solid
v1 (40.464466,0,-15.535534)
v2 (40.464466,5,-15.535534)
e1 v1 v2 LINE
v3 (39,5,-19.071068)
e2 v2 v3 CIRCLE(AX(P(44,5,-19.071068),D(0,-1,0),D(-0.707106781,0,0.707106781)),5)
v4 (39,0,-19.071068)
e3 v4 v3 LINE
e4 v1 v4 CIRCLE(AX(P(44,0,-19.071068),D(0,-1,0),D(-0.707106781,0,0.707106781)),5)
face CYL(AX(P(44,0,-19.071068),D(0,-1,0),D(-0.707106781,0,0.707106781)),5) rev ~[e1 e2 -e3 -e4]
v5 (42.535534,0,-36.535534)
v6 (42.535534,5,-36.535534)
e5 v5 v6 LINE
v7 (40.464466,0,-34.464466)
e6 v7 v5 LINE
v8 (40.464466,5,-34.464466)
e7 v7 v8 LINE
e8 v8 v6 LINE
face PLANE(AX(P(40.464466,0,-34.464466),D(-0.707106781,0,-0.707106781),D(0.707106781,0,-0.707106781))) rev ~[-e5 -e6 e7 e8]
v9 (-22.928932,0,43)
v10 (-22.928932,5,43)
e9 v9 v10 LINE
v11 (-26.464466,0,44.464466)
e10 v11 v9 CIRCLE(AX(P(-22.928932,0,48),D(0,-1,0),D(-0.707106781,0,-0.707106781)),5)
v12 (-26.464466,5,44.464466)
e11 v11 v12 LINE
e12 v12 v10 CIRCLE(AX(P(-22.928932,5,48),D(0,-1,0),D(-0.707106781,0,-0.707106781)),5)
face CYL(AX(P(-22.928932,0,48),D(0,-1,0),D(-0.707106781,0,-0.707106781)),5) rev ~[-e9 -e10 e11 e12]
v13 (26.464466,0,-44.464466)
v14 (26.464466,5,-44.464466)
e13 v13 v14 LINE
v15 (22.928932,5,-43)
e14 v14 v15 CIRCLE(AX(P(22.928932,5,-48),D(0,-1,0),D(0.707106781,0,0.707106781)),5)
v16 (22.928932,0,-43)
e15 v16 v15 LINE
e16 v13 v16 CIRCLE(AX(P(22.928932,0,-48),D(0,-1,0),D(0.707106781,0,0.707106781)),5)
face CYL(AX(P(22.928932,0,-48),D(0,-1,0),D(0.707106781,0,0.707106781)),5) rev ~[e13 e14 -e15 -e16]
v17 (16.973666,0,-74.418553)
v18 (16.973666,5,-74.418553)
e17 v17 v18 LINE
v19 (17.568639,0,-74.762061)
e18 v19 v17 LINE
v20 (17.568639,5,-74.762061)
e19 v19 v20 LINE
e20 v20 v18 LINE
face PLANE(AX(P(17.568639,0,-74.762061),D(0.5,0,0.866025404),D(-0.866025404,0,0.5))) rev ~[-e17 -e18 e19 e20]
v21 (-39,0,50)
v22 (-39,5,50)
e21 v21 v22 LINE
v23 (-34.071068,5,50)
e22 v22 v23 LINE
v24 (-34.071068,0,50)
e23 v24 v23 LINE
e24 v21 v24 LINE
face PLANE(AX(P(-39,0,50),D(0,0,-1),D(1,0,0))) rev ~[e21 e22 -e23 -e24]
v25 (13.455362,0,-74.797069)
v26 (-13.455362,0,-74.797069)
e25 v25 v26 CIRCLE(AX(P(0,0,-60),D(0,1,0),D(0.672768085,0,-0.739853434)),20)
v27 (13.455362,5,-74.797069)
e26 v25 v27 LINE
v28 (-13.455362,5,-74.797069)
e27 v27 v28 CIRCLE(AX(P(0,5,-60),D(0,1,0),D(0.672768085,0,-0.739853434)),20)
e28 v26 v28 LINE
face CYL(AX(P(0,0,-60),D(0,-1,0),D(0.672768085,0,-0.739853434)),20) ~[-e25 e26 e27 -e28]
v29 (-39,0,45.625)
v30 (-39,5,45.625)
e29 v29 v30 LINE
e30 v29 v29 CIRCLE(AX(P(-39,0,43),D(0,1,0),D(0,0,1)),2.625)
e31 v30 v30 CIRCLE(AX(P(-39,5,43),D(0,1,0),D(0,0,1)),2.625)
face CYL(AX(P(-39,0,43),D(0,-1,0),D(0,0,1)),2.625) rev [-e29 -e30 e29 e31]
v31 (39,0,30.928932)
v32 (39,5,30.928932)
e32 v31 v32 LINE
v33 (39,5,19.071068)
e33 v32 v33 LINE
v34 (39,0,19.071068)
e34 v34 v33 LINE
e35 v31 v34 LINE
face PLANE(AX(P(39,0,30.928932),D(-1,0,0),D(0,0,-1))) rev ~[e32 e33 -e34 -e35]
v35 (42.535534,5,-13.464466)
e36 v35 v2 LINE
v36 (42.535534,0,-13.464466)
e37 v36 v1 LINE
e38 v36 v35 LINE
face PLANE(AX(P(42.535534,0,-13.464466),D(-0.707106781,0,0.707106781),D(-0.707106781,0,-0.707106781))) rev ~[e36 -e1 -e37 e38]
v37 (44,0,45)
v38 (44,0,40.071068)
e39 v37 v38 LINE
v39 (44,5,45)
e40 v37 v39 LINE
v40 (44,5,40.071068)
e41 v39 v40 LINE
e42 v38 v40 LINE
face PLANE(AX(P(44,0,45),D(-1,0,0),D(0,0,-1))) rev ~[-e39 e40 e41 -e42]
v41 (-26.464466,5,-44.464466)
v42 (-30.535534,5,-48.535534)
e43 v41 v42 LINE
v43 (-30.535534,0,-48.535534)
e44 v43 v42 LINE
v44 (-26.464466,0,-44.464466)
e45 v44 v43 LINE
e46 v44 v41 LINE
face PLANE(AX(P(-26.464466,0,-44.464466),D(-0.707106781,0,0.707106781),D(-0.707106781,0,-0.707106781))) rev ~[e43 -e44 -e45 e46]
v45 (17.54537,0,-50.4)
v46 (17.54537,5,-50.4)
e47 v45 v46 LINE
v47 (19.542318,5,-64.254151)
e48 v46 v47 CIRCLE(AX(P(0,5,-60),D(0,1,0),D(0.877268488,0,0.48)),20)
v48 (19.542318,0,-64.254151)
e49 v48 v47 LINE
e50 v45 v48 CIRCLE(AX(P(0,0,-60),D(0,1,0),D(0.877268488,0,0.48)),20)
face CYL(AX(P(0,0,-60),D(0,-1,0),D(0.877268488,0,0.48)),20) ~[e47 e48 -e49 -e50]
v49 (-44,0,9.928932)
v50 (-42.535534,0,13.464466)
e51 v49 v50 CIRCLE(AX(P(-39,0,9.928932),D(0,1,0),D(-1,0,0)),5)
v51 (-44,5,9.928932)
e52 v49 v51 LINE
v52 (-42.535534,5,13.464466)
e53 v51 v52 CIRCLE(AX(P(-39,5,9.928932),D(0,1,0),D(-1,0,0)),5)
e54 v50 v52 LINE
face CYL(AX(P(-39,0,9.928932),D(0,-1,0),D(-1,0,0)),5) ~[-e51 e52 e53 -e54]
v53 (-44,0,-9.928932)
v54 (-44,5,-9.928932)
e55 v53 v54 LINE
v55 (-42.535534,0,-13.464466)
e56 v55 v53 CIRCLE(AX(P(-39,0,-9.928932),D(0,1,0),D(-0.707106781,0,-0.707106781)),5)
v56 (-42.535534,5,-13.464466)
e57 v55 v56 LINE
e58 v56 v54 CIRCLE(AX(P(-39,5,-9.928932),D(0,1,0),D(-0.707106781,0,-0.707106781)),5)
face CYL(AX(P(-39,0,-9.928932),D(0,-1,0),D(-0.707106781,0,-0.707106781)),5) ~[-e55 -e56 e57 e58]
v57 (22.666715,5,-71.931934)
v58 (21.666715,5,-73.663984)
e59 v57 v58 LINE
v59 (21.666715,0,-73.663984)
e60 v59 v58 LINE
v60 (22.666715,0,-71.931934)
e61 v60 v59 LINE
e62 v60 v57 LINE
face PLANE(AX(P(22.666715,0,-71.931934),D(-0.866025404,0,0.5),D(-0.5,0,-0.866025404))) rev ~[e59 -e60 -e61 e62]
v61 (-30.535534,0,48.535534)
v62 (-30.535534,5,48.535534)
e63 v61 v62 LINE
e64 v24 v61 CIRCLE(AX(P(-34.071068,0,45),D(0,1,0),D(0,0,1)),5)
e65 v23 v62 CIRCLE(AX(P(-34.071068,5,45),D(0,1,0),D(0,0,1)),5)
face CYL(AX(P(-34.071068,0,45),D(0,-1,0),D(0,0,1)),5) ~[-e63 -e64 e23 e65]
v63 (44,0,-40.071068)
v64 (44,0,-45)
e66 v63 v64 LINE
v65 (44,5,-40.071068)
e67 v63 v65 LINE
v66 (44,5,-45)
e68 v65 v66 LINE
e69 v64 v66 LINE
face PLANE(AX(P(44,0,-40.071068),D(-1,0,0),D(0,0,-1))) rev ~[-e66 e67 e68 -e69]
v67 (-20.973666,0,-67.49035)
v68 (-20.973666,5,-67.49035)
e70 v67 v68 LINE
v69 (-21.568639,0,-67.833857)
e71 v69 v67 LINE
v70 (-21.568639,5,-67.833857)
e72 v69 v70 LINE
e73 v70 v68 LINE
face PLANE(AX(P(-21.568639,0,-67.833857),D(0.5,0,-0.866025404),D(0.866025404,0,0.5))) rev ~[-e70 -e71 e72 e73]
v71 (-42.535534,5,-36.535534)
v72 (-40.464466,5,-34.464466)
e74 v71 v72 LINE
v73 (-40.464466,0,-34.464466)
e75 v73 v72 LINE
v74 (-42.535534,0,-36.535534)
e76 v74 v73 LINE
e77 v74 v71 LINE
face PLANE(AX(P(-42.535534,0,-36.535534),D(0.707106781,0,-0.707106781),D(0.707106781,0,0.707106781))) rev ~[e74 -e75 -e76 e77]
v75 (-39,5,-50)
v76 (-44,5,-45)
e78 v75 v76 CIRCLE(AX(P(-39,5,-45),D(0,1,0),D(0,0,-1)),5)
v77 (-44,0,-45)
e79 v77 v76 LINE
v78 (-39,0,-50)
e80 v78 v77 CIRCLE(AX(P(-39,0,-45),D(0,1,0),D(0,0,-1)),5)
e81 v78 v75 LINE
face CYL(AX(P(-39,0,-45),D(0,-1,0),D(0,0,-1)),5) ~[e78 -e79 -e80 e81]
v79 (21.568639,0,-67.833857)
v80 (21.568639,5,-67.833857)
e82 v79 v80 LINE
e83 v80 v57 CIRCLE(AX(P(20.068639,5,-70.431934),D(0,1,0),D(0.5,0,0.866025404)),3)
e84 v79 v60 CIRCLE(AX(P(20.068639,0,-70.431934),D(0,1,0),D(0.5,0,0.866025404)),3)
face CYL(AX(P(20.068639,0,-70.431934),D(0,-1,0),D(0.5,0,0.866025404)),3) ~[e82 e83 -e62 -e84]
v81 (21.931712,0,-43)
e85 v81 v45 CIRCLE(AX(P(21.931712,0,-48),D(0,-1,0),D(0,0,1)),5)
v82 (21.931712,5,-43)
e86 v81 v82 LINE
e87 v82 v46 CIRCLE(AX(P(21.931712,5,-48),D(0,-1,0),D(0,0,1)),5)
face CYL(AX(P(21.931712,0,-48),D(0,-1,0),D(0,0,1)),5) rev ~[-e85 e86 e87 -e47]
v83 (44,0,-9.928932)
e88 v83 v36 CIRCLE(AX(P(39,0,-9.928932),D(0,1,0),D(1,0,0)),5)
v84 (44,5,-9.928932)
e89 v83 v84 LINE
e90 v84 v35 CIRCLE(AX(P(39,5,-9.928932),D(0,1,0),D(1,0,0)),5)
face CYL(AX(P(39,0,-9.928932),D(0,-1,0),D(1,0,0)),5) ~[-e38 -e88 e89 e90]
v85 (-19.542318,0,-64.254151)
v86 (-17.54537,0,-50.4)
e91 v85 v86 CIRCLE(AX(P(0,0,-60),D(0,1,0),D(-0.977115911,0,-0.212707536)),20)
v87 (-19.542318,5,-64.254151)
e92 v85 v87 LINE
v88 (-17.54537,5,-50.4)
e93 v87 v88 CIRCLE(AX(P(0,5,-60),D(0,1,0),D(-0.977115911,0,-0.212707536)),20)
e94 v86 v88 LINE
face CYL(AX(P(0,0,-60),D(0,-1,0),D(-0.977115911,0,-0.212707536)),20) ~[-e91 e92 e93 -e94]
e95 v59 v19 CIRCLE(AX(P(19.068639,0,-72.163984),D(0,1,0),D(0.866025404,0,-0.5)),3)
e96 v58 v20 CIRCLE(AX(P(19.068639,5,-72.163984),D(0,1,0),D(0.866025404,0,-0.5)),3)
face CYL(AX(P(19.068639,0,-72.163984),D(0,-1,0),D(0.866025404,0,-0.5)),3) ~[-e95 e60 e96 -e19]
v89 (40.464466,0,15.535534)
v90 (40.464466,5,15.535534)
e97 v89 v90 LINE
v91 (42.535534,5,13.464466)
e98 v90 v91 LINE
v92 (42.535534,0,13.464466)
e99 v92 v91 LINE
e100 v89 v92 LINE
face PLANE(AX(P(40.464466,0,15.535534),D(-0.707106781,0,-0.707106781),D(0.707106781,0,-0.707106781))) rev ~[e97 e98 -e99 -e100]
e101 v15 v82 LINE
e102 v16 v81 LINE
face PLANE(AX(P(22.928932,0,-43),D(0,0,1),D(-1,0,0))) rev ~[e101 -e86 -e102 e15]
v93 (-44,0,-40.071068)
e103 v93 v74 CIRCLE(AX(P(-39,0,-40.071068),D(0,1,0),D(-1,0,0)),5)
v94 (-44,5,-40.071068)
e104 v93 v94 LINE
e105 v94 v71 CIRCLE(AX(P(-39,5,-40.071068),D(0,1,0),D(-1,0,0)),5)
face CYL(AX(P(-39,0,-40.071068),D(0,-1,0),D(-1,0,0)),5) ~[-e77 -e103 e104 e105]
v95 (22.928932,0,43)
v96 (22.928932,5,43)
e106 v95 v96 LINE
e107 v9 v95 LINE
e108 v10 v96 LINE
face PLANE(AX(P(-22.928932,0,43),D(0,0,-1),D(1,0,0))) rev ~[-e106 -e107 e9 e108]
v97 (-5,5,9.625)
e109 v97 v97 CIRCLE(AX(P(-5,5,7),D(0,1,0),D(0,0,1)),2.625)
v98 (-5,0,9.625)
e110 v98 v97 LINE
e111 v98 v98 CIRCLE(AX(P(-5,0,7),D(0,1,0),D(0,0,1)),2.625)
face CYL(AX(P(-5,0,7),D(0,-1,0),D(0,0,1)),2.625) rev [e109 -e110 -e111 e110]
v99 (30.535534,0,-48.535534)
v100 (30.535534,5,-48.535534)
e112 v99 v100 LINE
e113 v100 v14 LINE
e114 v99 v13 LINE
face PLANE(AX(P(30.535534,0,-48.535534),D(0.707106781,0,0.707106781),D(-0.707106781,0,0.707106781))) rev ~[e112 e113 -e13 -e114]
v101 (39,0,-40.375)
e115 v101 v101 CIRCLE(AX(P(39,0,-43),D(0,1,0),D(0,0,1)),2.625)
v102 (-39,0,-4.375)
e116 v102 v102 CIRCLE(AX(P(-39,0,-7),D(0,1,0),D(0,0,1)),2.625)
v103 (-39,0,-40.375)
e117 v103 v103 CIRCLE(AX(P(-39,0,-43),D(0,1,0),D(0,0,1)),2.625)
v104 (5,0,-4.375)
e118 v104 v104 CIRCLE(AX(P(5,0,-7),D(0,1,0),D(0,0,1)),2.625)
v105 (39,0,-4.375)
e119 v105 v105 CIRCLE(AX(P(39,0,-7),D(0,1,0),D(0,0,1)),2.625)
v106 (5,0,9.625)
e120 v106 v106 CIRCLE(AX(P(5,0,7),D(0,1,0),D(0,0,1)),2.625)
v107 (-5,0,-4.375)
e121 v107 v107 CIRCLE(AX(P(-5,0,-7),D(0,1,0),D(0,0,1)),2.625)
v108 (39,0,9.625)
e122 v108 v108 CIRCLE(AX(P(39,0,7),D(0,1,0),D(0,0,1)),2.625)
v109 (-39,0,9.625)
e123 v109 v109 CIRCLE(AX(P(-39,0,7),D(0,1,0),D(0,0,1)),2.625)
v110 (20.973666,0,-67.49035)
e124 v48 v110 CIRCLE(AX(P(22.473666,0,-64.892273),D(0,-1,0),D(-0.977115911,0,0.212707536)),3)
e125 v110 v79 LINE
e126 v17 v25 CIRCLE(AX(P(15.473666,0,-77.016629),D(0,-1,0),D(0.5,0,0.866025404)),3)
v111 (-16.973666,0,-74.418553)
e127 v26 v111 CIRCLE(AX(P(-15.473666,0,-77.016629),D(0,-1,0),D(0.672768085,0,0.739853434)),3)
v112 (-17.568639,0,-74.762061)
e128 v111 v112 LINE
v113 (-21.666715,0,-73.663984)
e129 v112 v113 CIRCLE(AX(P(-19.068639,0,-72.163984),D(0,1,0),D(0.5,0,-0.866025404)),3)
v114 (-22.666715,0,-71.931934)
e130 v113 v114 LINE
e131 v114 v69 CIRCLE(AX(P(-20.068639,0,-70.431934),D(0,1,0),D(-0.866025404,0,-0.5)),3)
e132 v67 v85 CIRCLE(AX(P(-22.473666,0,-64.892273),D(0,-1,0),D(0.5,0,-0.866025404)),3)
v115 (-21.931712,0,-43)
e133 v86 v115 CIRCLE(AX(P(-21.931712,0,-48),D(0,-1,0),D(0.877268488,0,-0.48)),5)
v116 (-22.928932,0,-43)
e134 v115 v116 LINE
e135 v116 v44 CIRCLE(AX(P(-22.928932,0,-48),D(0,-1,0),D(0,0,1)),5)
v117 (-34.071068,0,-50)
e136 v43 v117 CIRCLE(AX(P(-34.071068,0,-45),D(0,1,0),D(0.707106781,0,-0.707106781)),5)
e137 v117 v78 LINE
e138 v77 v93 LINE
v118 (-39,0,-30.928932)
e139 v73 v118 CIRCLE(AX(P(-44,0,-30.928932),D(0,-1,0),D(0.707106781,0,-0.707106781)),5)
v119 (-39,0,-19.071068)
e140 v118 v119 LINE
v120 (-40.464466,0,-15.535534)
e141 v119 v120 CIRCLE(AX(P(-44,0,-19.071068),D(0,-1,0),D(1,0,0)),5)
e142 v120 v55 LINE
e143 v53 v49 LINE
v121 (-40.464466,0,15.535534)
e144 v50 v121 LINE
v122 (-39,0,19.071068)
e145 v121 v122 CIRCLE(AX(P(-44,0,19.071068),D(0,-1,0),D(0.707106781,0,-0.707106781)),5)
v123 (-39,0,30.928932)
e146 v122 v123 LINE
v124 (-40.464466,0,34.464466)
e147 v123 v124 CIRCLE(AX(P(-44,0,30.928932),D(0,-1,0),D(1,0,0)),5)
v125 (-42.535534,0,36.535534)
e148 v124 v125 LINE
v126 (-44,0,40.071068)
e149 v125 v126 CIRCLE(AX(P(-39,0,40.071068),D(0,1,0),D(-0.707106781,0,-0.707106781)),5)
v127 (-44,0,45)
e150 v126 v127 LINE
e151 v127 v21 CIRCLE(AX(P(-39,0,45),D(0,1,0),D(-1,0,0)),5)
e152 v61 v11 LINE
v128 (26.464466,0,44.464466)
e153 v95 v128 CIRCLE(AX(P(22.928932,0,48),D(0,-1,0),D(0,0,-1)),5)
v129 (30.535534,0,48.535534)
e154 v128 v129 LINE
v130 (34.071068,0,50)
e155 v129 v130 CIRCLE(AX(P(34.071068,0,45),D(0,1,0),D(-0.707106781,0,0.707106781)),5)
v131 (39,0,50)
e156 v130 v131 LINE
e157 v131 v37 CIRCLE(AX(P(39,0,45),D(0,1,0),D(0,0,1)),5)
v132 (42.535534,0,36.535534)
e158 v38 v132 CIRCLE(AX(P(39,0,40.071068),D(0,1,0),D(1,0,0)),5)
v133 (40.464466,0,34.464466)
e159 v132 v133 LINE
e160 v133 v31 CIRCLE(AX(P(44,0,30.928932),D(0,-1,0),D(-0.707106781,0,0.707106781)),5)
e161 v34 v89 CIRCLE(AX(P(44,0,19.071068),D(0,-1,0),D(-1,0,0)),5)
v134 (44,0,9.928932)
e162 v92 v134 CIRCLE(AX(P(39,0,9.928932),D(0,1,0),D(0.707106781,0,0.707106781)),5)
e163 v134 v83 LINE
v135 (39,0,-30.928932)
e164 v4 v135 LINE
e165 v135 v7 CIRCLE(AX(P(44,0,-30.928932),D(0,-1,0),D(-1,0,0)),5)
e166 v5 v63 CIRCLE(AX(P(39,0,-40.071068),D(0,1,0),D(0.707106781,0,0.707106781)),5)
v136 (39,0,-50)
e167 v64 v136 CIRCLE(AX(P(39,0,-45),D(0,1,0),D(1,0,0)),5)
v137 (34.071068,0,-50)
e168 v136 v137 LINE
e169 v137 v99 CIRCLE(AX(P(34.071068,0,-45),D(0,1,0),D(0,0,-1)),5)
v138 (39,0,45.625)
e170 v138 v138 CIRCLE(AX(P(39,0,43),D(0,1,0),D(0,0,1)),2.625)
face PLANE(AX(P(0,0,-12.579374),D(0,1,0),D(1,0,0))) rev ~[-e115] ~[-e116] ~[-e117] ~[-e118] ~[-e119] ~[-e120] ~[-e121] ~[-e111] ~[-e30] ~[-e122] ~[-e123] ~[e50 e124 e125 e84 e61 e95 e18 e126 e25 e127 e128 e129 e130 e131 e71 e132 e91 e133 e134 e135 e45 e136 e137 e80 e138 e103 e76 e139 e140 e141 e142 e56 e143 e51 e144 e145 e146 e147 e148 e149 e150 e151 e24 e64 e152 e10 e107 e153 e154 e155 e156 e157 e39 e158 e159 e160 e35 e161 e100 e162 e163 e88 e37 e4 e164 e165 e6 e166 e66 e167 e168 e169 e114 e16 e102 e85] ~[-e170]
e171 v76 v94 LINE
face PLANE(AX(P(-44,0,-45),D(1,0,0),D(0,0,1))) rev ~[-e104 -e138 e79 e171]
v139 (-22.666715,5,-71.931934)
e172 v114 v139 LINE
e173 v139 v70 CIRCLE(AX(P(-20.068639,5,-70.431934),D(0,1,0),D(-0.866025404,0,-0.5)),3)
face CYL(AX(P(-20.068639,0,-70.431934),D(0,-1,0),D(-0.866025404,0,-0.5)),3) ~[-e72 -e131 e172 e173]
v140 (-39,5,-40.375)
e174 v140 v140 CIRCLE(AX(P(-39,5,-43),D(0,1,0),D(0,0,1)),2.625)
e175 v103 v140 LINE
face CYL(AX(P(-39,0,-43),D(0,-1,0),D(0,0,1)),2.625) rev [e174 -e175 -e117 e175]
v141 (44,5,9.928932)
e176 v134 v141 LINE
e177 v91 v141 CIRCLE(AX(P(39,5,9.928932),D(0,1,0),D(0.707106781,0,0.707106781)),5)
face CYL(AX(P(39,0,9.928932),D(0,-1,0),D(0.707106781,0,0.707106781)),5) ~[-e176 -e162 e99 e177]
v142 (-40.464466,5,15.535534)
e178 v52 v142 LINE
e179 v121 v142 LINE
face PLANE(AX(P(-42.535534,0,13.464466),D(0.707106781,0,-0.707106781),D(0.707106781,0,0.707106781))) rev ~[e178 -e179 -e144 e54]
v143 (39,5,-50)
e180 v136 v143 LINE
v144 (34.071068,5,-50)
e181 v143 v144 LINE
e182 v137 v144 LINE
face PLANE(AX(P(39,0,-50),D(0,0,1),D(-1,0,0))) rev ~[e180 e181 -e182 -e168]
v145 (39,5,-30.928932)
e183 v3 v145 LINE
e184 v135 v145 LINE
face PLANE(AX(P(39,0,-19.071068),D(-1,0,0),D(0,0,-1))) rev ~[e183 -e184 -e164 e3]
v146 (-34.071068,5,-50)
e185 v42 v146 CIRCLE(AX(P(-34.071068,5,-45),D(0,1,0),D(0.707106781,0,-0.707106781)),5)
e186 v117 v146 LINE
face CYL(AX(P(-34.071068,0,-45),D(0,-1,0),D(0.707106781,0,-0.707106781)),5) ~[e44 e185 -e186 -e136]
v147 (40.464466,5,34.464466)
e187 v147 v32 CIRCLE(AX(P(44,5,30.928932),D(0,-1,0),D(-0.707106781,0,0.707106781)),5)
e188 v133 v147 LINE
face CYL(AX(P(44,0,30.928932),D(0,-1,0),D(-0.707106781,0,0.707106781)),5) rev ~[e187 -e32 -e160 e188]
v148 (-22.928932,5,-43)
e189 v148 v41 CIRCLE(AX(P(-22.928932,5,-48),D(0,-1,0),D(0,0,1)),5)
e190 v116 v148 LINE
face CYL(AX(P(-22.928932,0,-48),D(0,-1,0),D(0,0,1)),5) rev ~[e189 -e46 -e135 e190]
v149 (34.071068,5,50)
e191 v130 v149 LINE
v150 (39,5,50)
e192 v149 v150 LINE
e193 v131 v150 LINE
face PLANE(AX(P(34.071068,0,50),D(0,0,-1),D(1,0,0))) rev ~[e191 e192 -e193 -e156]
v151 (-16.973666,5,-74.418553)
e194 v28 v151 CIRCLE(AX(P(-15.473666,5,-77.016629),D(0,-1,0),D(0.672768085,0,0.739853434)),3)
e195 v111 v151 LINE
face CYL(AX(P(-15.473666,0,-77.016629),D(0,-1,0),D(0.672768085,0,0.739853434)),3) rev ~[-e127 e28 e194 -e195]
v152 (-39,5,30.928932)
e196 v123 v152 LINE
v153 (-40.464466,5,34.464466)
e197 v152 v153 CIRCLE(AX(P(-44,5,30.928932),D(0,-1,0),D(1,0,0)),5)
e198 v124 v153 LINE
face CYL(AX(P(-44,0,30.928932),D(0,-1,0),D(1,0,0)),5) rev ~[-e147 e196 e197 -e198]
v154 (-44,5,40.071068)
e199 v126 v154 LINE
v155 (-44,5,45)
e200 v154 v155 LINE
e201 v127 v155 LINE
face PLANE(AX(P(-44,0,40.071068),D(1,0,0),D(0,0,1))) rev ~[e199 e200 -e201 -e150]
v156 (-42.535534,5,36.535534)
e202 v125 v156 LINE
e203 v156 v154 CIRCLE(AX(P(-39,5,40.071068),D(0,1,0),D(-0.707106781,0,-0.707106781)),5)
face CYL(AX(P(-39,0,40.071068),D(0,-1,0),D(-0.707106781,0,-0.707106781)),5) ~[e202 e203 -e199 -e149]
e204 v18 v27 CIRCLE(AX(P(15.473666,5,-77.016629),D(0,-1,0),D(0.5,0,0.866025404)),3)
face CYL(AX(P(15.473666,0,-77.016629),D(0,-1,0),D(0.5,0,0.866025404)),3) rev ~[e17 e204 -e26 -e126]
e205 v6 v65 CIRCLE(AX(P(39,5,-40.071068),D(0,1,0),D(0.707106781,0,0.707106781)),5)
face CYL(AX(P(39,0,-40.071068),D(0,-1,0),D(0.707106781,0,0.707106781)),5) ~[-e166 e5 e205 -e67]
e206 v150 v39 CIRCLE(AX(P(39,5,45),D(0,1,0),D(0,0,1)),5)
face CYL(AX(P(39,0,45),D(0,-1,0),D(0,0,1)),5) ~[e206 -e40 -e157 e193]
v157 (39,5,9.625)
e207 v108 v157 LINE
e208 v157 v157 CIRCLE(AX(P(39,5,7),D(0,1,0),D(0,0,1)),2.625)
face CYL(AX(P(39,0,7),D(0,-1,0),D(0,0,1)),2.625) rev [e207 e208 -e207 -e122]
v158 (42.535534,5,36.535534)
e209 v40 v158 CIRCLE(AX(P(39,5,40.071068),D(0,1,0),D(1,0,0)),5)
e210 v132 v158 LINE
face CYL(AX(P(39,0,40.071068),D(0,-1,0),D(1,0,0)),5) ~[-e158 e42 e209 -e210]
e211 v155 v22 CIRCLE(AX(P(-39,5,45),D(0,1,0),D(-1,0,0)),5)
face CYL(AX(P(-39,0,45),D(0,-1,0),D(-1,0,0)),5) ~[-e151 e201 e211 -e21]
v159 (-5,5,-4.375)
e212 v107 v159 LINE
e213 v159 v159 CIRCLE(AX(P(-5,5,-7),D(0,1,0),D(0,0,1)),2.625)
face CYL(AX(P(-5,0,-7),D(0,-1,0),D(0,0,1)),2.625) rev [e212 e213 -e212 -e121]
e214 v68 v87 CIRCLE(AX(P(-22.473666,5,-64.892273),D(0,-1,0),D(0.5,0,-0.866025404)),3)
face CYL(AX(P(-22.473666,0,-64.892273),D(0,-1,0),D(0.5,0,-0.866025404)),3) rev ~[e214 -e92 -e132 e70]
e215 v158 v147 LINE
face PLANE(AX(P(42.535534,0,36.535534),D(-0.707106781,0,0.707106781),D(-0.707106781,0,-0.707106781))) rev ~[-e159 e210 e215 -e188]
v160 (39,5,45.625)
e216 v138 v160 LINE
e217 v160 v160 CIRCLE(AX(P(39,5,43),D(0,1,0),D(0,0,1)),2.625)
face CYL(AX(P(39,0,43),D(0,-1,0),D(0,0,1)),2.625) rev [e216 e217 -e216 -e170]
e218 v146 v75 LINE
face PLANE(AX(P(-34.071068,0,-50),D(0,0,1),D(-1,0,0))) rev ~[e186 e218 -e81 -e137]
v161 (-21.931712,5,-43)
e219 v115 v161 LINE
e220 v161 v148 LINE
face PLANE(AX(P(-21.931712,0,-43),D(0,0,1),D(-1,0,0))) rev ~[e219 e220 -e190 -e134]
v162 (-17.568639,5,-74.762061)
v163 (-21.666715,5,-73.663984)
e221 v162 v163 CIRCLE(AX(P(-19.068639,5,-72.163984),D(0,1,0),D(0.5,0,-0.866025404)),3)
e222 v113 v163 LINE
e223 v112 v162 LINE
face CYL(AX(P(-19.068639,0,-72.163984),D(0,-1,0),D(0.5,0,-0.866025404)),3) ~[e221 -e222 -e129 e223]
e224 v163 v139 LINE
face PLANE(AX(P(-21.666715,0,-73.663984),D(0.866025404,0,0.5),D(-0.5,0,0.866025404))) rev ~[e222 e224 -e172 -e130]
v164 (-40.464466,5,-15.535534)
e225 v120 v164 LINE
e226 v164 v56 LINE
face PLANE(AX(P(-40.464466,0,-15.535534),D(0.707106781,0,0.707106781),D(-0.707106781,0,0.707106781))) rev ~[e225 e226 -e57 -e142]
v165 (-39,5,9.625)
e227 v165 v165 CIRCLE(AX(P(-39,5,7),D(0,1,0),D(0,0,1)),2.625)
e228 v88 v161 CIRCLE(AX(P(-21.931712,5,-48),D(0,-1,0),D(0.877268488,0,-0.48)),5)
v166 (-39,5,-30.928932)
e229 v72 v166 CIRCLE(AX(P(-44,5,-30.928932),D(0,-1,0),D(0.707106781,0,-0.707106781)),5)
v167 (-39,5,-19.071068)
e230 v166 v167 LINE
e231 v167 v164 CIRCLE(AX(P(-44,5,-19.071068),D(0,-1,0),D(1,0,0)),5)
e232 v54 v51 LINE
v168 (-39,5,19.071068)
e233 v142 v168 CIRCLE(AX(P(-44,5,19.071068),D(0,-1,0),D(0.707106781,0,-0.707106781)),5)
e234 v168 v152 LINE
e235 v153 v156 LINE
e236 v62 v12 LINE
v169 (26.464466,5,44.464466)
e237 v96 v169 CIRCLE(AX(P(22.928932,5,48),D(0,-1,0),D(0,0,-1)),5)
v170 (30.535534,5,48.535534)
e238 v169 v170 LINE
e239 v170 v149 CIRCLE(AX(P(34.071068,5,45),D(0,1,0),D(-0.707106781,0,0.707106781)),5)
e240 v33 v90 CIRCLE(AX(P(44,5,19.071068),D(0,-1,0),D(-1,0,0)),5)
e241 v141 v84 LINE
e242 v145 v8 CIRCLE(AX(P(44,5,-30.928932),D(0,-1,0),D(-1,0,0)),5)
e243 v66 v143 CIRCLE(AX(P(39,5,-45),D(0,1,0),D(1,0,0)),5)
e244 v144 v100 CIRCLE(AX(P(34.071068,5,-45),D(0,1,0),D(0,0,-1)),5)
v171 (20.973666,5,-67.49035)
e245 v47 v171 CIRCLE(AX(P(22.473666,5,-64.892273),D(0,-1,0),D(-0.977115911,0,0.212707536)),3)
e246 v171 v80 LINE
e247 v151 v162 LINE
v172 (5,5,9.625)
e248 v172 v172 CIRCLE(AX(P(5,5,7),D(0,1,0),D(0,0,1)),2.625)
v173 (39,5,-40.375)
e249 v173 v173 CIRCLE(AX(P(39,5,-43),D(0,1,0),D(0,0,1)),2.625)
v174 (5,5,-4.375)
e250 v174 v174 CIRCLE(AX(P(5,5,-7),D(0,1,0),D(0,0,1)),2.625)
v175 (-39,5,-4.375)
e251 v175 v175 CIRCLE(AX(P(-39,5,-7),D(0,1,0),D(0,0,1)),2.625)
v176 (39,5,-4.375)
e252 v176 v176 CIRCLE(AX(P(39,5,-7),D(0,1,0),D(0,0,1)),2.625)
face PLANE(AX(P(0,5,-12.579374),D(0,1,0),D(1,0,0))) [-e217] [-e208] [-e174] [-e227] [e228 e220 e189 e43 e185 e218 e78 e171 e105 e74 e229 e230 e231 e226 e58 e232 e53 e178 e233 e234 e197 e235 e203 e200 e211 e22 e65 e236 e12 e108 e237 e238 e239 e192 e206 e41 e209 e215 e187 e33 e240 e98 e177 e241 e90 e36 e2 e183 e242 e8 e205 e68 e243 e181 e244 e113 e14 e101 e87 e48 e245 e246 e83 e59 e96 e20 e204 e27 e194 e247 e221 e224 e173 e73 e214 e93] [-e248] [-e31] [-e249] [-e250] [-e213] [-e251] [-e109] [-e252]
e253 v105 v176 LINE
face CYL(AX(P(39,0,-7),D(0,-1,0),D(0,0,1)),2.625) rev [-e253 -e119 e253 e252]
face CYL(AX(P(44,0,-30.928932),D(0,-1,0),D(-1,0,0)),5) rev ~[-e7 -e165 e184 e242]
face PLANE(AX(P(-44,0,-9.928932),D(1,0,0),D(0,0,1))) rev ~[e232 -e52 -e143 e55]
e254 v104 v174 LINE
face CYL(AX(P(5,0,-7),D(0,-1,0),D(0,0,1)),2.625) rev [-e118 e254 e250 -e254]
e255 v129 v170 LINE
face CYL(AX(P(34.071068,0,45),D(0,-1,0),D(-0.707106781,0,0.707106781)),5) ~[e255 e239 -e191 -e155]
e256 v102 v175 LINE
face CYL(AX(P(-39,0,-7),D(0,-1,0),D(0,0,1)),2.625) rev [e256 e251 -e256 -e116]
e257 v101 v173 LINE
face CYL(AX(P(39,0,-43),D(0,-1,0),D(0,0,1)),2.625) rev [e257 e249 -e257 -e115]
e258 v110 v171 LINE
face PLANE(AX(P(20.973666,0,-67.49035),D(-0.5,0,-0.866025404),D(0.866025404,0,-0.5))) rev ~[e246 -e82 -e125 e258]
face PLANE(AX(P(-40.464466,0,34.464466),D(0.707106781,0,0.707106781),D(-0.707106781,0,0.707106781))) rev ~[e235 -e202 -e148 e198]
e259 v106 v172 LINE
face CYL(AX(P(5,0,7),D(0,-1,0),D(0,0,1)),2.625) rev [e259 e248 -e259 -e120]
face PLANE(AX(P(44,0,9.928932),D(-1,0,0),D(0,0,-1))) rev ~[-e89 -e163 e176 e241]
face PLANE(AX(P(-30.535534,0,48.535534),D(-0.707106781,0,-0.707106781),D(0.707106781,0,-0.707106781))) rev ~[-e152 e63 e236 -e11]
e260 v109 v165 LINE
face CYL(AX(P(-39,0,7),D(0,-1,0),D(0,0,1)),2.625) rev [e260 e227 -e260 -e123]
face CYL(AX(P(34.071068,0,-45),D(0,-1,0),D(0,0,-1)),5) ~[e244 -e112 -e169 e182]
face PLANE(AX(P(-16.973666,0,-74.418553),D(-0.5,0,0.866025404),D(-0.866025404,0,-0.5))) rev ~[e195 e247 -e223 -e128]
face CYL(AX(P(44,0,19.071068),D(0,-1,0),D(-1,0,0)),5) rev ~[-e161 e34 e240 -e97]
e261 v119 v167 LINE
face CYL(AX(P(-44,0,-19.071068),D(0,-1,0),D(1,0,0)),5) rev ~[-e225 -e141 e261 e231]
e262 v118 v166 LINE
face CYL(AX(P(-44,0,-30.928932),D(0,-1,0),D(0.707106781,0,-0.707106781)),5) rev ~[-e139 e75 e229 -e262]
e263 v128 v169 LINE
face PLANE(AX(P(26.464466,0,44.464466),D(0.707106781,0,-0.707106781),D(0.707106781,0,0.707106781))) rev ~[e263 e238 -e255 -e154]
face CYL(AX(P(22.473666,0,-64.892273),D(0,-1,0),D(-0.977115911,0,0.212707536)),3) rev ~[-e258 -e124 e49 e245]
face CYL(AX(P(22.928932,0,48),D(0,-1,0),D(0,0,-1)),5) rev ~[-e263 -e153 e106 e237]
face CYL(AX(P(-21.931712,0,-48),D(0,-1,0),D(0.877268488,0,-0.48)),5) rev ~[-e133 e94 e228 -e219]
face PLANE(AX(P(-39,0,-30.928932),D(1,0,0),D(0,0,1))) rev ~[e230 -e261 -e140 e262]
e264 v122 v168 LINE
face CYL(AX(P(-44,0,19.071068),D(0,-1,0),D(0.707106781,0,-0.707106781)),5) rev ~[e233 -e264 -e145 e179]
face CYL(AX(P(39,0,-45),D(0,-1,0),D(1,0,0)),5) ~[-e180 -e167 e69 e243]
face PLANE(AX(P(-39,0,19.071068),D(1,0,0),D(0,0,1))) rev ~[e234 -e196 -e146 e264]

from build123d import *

# Parameters (mm, degrees)
SKETCH1_R           = 2.625
BOSS_EXTRUDE1_DEPTH = 5


with BuildPart() as part:
    # Sketch1 → Boss-Extrude1 (new body)
    with BuildSketch(Plane(origin=(0, 0, 0), x_dir=(1, 0, 0), z_dir=(0, 1, 0))):
        with BuildLine():
            Line((-42.535533906, 36.535533906), (-40.464466094, 34.464466094))
            ThreePointArc((-40.464466094, 34.464466094), (-39.380602337, 32.84234935), (-39, 30.928932188))
            Line((-39, 30.928932188), (-39, 19.071067812))
            ThreePointArc((-39, 19.071067812), (-39.380602337, 17.15765065), (-40.464466094, 15.535533906))
            Line((-40.464466094, 15.535533906), (-42.535533906, 13.464466094))
            ThreePointArc((-42.535533906, 13.464466094), (-43.619397663, 11.84234935), (-44, 9.928932188))
            Line((-44, 9.928932188), (-44, -9.928932188))
            ThreePointArc((-44, -9.928932188), (-43.619397663, -11.84234935), (-42.535533906, -13.464466094))
            Line((-42.535533906, -13.464466094), (-40.464466094, -15.535533906))
            ThreePointArc((-40.464466094, -15.535533906), (-39.380602337, -17.15765065), (-39, -19.071067812))
            Line((-39, -19.071067812), (-39, -30.928932188))
            ThreePointArc((-39, -30.928932188), (-39.380602337, -32.84234935), (-40.464466094, -34.464466094))
            Line((-40.464466094, -34.464466094), (-42.535533906, -36.535533906))
            ThreePointArc((-42.535533906, -36.535533906), (-43.619397663, -38.15765065), (-44, -40.071067812))
            Line((-44, -40.071067812), (-44, -45))
            ThreePointArc((-44, -45), (-42.535533906, -48.535533906), (-39, -50))
            Line((-39, -50), (-34.071067812, -50))
            ThreePointArc((-34.071067812, -50), (-32.15765065, -49.619397663), (-30.535533906, -48.535533906))
            Line((-30.535533906, -48.535533906), (-26.464466094, -44.464466094))
            ThreePointArc((-26.464466094, -44.464466094), (-24.84234935, -43.380602337), (-22.928932188, -43))
            Line((-22.928932188, -43), (22.928932188, -43))
            ThreePointArc((22.928932188, -43), (24.84234935, -43.380602337), (26.464466094, -44.464466094))
            Line((26.464466094, -44.464466094), (30.535533906, -48.535533906))
            ThreePointArc((30.535533906, -48.535533906), (32.15765065, -49.619397663), (34.071067812, -50))
            Line((34.071067812, -50), (39, -50))
            ThreePointArc((39, -50), (42.535533906, -48.535533906), (44, -45))
            Line((44, -45), (44, -40.071067812))
            ThreePointArc((44, -40.071067812), (43.619397663, -38.15765065), (42.535533906, -36.535533906))
            Line((42.535533906, -36.535533906), (40.464466094, -34.464466094))
            ThreePointArc((40.464466094, -34.464466094), (39.380602337, -32.84234935), (39, -30.928932188))
            Line((39, -30.928932188), (39, -19.071067812))
            ThreePointArc((39, -19.071067812), (39.380602337, -17.15765065), (40.464466094, -15.535533906))
            Line((40.464466094, -15.535533906), (42.535533906, -13.464466094))
            ThreePointArc((42.535533906, -13.464466094), (43.619397663, -11.84234935), (44, -9.928932188))
            Line((44, -9.928932188), (44, 9.928932188))
            ThreePointArc((44, 9.928932188), (43.619397663, 11.84234935), (42.535533906, 13.464466094))
            Line((42.535533906, 13.464466094), (40.464466094, 15.535533906))
            ThreePointArc((40.464466094, 15.535533906), (39.380602337, 17.15765065), (39, 19.071067812))
            Line((39, 19.071067812), (39, 30.928932188))
            ThreePointArc((39, 30.928932188), (39.380602337, 32.84234935), (40.464466094, 34.464466094))
            Line((40.464466094, 34.464466094), (42.535533906, 36.535533906))
            ThreePointArc((42.535533906, 36.535533906), (43.619397663, 38.15765065), (44, 40.071067812))
            Line((44, 40.071067812), (44, 45))
            ThreePointArc((44, 45), (42.535533906, 48.535533906), (39, 50))
            Line((39, 50), (34.071067812, 50))
            ThreePointArc((34.071067812, 50), (32.15765065, 49.619397663), (30.535533906, 48.535533906))
            Line((30.535533906, 48.535533906), (26.464466094, 44.464466094))
            ThreePointArc((26.464466094, 44.464466094), (24.84234935, 43.380602337), (22.928932188, 43))
            Line((22.928932188, 43), (21.931712199, 43))
            ThreePointArc((21.931712199, 43), (17.630549566, 45.450490243), (17.54536976, 50.4))
            ThreePointArc((17.54536976, 50.4), (19.795416719, 57.146672655), (19.542318227, 64.254150716))
            ThreePointArc((19.542318227, 64.254150716), (19.730044926, 66.105757405), (20.973665961, 67.490349535))
            Line((20.973665961, 67.490349535), (21.56863896, 67.833857356))
            ThreePointArc((21.56863896, 67.833857356), (22.966416439, 69.655476432), (22.666715171, 71.931933567))
            Line((22.666715171, 71.931933567), (21.666715171, 73.663984375))
            ThreePointArc((21.666715171, 73.663984375), (19.845096095, 75.061761854), (17.56863896, 74.762060586))
            Line((17.56863896, 74.762060586), (16.973665961, 74.418552765))
            ThreePointArc((16.973665961, 74.418552765), (15.152763485, 74.033841421), (13.455361705, 74.797068675))
            ThreePointArc((13.455361705, 74.797068675), (0, 80), (-13.455361705, 74.797068675))
            ThreePointArc((-13.455361705, 74.797068675), (-15.152763485, 74.033841421), (-16.973665961, 74.418552765))
            Line((-16.973665961, 74.418552765), (-17.56863896, 74.762060586))
            ThreePointArc((-17.56863896, 74.762060586), (-19.845096095, 75.061761854), (-21.666715171, 73.663984375))
            Line((-21.666715171, 73.663984375), (-22.666715171, 71.931933567))
            ThreePointArc((-22.666715171, 71.931933567), (-22.966416439, 69.655476432), (-21.56863896, 67.833857356))
            Line((-21.56863896, 67.833857356), (-20.973665961, 67.490349535))
            ThreePointArc((-20.973665961, 67.490349535), (-19.730044926, 66.105757405), (-19.542318227, 64.254150716))
            ThreePointArc((-19.542318227, 64.254150716), (-19.795416719, 57.146672655), (-17.54536976, 50.4))
            ThreePointArc((-17.54536976, 50.4), (-17.630549566, 45.450490243), (-21.931712199, 43))
            Line((-21.931712199, 43), (-22.928932188, 43))
            ThreePointArc((-22.928932188, 43), (-24.84234935, 43.380602337), (-26.464466094, 44.464466094))
            Line((-26.464466094, 44.464466094), (-30.535533906, 48.535533906))
            ThreePointArc((-30.535533906, 48.535533906), (-32.15765065, 49.619397663), (-34.071067812, 50))
            Line((-34.071067812, 50), (-39, 50))
            ThreePointArc((-39, 50), (-42.535533906, 48.535533906), (-44, 45))
            Line((-44, 45), (-44, 40.071067812))
            ThreePointArc((-44, 40.071067812), (-43.619397663, 38.15765065), (-42.535533906, 36.535533906))
        make_face()
        with Locations(Location((-39, 43, 0), (0, 0, 270))):
            Circle(SKETCH1_R, mode=Mode.SUBTRACT)
        with Locations(Location((-39, 7, 0), (0, 0, 270))):
            Circle(SKETCH1_R, mode=Mode.SUBTRACT)
        with Locations(Location((-39, -7, 0), (0, 0, 270))):
            Circle(SKETCH1_R, mode=Mode.SUBTRACT)
        with Locations(Location((-39, -43, 0), (0, 0, 270))):
            Circle(SKETCH1_R, mode=Mode.SUBTRACT)
        with Locations(Location((39, -43, 0), (0, 0, 270))):
            Circle(SKETCH1_R, mode=Mode.SUBTRACT)
        with Locations(Location((39, -7, 0), (0, 0, 270))):
            Circle(SKETCH1_R, mode=Mode.SUBTRACT)
        with Locations(Location((39, 7, 0), (0, 0, 270))):
            Circle(SKETCH1_R, mode=Mode.SUBTRACT)
        with Locations(Location((39, 43, 0), (0, 0, 270))):
            Circle(SKETCH1_R, mode=Mode.SUBTRACT)
        with Locations(Location((-5, 7, 0), (0, 0, 270))):
            Circle(SKETCH1_R, mode=Mode.SUBTRACT)
        with Locations(Location((5, 7, 0), (0, 0, 270))):
            Circle(SKETCH1_R, mode=Mode.SUBTRACT)
        with Locations(Location((5, -7, 0), (0, 0, 270))):
            Circle(SKETCH1_R, mode=Mode.SUBTRACT)
        with Locations(Location((-5, -7, 0), (0, 0, 270))):
            Circle(SKETCH1_R, mode=Mode.SUBTRACT)
    extrude(amount=BOSS_EXTRUDE1_DEPTH)


solid = part.part
